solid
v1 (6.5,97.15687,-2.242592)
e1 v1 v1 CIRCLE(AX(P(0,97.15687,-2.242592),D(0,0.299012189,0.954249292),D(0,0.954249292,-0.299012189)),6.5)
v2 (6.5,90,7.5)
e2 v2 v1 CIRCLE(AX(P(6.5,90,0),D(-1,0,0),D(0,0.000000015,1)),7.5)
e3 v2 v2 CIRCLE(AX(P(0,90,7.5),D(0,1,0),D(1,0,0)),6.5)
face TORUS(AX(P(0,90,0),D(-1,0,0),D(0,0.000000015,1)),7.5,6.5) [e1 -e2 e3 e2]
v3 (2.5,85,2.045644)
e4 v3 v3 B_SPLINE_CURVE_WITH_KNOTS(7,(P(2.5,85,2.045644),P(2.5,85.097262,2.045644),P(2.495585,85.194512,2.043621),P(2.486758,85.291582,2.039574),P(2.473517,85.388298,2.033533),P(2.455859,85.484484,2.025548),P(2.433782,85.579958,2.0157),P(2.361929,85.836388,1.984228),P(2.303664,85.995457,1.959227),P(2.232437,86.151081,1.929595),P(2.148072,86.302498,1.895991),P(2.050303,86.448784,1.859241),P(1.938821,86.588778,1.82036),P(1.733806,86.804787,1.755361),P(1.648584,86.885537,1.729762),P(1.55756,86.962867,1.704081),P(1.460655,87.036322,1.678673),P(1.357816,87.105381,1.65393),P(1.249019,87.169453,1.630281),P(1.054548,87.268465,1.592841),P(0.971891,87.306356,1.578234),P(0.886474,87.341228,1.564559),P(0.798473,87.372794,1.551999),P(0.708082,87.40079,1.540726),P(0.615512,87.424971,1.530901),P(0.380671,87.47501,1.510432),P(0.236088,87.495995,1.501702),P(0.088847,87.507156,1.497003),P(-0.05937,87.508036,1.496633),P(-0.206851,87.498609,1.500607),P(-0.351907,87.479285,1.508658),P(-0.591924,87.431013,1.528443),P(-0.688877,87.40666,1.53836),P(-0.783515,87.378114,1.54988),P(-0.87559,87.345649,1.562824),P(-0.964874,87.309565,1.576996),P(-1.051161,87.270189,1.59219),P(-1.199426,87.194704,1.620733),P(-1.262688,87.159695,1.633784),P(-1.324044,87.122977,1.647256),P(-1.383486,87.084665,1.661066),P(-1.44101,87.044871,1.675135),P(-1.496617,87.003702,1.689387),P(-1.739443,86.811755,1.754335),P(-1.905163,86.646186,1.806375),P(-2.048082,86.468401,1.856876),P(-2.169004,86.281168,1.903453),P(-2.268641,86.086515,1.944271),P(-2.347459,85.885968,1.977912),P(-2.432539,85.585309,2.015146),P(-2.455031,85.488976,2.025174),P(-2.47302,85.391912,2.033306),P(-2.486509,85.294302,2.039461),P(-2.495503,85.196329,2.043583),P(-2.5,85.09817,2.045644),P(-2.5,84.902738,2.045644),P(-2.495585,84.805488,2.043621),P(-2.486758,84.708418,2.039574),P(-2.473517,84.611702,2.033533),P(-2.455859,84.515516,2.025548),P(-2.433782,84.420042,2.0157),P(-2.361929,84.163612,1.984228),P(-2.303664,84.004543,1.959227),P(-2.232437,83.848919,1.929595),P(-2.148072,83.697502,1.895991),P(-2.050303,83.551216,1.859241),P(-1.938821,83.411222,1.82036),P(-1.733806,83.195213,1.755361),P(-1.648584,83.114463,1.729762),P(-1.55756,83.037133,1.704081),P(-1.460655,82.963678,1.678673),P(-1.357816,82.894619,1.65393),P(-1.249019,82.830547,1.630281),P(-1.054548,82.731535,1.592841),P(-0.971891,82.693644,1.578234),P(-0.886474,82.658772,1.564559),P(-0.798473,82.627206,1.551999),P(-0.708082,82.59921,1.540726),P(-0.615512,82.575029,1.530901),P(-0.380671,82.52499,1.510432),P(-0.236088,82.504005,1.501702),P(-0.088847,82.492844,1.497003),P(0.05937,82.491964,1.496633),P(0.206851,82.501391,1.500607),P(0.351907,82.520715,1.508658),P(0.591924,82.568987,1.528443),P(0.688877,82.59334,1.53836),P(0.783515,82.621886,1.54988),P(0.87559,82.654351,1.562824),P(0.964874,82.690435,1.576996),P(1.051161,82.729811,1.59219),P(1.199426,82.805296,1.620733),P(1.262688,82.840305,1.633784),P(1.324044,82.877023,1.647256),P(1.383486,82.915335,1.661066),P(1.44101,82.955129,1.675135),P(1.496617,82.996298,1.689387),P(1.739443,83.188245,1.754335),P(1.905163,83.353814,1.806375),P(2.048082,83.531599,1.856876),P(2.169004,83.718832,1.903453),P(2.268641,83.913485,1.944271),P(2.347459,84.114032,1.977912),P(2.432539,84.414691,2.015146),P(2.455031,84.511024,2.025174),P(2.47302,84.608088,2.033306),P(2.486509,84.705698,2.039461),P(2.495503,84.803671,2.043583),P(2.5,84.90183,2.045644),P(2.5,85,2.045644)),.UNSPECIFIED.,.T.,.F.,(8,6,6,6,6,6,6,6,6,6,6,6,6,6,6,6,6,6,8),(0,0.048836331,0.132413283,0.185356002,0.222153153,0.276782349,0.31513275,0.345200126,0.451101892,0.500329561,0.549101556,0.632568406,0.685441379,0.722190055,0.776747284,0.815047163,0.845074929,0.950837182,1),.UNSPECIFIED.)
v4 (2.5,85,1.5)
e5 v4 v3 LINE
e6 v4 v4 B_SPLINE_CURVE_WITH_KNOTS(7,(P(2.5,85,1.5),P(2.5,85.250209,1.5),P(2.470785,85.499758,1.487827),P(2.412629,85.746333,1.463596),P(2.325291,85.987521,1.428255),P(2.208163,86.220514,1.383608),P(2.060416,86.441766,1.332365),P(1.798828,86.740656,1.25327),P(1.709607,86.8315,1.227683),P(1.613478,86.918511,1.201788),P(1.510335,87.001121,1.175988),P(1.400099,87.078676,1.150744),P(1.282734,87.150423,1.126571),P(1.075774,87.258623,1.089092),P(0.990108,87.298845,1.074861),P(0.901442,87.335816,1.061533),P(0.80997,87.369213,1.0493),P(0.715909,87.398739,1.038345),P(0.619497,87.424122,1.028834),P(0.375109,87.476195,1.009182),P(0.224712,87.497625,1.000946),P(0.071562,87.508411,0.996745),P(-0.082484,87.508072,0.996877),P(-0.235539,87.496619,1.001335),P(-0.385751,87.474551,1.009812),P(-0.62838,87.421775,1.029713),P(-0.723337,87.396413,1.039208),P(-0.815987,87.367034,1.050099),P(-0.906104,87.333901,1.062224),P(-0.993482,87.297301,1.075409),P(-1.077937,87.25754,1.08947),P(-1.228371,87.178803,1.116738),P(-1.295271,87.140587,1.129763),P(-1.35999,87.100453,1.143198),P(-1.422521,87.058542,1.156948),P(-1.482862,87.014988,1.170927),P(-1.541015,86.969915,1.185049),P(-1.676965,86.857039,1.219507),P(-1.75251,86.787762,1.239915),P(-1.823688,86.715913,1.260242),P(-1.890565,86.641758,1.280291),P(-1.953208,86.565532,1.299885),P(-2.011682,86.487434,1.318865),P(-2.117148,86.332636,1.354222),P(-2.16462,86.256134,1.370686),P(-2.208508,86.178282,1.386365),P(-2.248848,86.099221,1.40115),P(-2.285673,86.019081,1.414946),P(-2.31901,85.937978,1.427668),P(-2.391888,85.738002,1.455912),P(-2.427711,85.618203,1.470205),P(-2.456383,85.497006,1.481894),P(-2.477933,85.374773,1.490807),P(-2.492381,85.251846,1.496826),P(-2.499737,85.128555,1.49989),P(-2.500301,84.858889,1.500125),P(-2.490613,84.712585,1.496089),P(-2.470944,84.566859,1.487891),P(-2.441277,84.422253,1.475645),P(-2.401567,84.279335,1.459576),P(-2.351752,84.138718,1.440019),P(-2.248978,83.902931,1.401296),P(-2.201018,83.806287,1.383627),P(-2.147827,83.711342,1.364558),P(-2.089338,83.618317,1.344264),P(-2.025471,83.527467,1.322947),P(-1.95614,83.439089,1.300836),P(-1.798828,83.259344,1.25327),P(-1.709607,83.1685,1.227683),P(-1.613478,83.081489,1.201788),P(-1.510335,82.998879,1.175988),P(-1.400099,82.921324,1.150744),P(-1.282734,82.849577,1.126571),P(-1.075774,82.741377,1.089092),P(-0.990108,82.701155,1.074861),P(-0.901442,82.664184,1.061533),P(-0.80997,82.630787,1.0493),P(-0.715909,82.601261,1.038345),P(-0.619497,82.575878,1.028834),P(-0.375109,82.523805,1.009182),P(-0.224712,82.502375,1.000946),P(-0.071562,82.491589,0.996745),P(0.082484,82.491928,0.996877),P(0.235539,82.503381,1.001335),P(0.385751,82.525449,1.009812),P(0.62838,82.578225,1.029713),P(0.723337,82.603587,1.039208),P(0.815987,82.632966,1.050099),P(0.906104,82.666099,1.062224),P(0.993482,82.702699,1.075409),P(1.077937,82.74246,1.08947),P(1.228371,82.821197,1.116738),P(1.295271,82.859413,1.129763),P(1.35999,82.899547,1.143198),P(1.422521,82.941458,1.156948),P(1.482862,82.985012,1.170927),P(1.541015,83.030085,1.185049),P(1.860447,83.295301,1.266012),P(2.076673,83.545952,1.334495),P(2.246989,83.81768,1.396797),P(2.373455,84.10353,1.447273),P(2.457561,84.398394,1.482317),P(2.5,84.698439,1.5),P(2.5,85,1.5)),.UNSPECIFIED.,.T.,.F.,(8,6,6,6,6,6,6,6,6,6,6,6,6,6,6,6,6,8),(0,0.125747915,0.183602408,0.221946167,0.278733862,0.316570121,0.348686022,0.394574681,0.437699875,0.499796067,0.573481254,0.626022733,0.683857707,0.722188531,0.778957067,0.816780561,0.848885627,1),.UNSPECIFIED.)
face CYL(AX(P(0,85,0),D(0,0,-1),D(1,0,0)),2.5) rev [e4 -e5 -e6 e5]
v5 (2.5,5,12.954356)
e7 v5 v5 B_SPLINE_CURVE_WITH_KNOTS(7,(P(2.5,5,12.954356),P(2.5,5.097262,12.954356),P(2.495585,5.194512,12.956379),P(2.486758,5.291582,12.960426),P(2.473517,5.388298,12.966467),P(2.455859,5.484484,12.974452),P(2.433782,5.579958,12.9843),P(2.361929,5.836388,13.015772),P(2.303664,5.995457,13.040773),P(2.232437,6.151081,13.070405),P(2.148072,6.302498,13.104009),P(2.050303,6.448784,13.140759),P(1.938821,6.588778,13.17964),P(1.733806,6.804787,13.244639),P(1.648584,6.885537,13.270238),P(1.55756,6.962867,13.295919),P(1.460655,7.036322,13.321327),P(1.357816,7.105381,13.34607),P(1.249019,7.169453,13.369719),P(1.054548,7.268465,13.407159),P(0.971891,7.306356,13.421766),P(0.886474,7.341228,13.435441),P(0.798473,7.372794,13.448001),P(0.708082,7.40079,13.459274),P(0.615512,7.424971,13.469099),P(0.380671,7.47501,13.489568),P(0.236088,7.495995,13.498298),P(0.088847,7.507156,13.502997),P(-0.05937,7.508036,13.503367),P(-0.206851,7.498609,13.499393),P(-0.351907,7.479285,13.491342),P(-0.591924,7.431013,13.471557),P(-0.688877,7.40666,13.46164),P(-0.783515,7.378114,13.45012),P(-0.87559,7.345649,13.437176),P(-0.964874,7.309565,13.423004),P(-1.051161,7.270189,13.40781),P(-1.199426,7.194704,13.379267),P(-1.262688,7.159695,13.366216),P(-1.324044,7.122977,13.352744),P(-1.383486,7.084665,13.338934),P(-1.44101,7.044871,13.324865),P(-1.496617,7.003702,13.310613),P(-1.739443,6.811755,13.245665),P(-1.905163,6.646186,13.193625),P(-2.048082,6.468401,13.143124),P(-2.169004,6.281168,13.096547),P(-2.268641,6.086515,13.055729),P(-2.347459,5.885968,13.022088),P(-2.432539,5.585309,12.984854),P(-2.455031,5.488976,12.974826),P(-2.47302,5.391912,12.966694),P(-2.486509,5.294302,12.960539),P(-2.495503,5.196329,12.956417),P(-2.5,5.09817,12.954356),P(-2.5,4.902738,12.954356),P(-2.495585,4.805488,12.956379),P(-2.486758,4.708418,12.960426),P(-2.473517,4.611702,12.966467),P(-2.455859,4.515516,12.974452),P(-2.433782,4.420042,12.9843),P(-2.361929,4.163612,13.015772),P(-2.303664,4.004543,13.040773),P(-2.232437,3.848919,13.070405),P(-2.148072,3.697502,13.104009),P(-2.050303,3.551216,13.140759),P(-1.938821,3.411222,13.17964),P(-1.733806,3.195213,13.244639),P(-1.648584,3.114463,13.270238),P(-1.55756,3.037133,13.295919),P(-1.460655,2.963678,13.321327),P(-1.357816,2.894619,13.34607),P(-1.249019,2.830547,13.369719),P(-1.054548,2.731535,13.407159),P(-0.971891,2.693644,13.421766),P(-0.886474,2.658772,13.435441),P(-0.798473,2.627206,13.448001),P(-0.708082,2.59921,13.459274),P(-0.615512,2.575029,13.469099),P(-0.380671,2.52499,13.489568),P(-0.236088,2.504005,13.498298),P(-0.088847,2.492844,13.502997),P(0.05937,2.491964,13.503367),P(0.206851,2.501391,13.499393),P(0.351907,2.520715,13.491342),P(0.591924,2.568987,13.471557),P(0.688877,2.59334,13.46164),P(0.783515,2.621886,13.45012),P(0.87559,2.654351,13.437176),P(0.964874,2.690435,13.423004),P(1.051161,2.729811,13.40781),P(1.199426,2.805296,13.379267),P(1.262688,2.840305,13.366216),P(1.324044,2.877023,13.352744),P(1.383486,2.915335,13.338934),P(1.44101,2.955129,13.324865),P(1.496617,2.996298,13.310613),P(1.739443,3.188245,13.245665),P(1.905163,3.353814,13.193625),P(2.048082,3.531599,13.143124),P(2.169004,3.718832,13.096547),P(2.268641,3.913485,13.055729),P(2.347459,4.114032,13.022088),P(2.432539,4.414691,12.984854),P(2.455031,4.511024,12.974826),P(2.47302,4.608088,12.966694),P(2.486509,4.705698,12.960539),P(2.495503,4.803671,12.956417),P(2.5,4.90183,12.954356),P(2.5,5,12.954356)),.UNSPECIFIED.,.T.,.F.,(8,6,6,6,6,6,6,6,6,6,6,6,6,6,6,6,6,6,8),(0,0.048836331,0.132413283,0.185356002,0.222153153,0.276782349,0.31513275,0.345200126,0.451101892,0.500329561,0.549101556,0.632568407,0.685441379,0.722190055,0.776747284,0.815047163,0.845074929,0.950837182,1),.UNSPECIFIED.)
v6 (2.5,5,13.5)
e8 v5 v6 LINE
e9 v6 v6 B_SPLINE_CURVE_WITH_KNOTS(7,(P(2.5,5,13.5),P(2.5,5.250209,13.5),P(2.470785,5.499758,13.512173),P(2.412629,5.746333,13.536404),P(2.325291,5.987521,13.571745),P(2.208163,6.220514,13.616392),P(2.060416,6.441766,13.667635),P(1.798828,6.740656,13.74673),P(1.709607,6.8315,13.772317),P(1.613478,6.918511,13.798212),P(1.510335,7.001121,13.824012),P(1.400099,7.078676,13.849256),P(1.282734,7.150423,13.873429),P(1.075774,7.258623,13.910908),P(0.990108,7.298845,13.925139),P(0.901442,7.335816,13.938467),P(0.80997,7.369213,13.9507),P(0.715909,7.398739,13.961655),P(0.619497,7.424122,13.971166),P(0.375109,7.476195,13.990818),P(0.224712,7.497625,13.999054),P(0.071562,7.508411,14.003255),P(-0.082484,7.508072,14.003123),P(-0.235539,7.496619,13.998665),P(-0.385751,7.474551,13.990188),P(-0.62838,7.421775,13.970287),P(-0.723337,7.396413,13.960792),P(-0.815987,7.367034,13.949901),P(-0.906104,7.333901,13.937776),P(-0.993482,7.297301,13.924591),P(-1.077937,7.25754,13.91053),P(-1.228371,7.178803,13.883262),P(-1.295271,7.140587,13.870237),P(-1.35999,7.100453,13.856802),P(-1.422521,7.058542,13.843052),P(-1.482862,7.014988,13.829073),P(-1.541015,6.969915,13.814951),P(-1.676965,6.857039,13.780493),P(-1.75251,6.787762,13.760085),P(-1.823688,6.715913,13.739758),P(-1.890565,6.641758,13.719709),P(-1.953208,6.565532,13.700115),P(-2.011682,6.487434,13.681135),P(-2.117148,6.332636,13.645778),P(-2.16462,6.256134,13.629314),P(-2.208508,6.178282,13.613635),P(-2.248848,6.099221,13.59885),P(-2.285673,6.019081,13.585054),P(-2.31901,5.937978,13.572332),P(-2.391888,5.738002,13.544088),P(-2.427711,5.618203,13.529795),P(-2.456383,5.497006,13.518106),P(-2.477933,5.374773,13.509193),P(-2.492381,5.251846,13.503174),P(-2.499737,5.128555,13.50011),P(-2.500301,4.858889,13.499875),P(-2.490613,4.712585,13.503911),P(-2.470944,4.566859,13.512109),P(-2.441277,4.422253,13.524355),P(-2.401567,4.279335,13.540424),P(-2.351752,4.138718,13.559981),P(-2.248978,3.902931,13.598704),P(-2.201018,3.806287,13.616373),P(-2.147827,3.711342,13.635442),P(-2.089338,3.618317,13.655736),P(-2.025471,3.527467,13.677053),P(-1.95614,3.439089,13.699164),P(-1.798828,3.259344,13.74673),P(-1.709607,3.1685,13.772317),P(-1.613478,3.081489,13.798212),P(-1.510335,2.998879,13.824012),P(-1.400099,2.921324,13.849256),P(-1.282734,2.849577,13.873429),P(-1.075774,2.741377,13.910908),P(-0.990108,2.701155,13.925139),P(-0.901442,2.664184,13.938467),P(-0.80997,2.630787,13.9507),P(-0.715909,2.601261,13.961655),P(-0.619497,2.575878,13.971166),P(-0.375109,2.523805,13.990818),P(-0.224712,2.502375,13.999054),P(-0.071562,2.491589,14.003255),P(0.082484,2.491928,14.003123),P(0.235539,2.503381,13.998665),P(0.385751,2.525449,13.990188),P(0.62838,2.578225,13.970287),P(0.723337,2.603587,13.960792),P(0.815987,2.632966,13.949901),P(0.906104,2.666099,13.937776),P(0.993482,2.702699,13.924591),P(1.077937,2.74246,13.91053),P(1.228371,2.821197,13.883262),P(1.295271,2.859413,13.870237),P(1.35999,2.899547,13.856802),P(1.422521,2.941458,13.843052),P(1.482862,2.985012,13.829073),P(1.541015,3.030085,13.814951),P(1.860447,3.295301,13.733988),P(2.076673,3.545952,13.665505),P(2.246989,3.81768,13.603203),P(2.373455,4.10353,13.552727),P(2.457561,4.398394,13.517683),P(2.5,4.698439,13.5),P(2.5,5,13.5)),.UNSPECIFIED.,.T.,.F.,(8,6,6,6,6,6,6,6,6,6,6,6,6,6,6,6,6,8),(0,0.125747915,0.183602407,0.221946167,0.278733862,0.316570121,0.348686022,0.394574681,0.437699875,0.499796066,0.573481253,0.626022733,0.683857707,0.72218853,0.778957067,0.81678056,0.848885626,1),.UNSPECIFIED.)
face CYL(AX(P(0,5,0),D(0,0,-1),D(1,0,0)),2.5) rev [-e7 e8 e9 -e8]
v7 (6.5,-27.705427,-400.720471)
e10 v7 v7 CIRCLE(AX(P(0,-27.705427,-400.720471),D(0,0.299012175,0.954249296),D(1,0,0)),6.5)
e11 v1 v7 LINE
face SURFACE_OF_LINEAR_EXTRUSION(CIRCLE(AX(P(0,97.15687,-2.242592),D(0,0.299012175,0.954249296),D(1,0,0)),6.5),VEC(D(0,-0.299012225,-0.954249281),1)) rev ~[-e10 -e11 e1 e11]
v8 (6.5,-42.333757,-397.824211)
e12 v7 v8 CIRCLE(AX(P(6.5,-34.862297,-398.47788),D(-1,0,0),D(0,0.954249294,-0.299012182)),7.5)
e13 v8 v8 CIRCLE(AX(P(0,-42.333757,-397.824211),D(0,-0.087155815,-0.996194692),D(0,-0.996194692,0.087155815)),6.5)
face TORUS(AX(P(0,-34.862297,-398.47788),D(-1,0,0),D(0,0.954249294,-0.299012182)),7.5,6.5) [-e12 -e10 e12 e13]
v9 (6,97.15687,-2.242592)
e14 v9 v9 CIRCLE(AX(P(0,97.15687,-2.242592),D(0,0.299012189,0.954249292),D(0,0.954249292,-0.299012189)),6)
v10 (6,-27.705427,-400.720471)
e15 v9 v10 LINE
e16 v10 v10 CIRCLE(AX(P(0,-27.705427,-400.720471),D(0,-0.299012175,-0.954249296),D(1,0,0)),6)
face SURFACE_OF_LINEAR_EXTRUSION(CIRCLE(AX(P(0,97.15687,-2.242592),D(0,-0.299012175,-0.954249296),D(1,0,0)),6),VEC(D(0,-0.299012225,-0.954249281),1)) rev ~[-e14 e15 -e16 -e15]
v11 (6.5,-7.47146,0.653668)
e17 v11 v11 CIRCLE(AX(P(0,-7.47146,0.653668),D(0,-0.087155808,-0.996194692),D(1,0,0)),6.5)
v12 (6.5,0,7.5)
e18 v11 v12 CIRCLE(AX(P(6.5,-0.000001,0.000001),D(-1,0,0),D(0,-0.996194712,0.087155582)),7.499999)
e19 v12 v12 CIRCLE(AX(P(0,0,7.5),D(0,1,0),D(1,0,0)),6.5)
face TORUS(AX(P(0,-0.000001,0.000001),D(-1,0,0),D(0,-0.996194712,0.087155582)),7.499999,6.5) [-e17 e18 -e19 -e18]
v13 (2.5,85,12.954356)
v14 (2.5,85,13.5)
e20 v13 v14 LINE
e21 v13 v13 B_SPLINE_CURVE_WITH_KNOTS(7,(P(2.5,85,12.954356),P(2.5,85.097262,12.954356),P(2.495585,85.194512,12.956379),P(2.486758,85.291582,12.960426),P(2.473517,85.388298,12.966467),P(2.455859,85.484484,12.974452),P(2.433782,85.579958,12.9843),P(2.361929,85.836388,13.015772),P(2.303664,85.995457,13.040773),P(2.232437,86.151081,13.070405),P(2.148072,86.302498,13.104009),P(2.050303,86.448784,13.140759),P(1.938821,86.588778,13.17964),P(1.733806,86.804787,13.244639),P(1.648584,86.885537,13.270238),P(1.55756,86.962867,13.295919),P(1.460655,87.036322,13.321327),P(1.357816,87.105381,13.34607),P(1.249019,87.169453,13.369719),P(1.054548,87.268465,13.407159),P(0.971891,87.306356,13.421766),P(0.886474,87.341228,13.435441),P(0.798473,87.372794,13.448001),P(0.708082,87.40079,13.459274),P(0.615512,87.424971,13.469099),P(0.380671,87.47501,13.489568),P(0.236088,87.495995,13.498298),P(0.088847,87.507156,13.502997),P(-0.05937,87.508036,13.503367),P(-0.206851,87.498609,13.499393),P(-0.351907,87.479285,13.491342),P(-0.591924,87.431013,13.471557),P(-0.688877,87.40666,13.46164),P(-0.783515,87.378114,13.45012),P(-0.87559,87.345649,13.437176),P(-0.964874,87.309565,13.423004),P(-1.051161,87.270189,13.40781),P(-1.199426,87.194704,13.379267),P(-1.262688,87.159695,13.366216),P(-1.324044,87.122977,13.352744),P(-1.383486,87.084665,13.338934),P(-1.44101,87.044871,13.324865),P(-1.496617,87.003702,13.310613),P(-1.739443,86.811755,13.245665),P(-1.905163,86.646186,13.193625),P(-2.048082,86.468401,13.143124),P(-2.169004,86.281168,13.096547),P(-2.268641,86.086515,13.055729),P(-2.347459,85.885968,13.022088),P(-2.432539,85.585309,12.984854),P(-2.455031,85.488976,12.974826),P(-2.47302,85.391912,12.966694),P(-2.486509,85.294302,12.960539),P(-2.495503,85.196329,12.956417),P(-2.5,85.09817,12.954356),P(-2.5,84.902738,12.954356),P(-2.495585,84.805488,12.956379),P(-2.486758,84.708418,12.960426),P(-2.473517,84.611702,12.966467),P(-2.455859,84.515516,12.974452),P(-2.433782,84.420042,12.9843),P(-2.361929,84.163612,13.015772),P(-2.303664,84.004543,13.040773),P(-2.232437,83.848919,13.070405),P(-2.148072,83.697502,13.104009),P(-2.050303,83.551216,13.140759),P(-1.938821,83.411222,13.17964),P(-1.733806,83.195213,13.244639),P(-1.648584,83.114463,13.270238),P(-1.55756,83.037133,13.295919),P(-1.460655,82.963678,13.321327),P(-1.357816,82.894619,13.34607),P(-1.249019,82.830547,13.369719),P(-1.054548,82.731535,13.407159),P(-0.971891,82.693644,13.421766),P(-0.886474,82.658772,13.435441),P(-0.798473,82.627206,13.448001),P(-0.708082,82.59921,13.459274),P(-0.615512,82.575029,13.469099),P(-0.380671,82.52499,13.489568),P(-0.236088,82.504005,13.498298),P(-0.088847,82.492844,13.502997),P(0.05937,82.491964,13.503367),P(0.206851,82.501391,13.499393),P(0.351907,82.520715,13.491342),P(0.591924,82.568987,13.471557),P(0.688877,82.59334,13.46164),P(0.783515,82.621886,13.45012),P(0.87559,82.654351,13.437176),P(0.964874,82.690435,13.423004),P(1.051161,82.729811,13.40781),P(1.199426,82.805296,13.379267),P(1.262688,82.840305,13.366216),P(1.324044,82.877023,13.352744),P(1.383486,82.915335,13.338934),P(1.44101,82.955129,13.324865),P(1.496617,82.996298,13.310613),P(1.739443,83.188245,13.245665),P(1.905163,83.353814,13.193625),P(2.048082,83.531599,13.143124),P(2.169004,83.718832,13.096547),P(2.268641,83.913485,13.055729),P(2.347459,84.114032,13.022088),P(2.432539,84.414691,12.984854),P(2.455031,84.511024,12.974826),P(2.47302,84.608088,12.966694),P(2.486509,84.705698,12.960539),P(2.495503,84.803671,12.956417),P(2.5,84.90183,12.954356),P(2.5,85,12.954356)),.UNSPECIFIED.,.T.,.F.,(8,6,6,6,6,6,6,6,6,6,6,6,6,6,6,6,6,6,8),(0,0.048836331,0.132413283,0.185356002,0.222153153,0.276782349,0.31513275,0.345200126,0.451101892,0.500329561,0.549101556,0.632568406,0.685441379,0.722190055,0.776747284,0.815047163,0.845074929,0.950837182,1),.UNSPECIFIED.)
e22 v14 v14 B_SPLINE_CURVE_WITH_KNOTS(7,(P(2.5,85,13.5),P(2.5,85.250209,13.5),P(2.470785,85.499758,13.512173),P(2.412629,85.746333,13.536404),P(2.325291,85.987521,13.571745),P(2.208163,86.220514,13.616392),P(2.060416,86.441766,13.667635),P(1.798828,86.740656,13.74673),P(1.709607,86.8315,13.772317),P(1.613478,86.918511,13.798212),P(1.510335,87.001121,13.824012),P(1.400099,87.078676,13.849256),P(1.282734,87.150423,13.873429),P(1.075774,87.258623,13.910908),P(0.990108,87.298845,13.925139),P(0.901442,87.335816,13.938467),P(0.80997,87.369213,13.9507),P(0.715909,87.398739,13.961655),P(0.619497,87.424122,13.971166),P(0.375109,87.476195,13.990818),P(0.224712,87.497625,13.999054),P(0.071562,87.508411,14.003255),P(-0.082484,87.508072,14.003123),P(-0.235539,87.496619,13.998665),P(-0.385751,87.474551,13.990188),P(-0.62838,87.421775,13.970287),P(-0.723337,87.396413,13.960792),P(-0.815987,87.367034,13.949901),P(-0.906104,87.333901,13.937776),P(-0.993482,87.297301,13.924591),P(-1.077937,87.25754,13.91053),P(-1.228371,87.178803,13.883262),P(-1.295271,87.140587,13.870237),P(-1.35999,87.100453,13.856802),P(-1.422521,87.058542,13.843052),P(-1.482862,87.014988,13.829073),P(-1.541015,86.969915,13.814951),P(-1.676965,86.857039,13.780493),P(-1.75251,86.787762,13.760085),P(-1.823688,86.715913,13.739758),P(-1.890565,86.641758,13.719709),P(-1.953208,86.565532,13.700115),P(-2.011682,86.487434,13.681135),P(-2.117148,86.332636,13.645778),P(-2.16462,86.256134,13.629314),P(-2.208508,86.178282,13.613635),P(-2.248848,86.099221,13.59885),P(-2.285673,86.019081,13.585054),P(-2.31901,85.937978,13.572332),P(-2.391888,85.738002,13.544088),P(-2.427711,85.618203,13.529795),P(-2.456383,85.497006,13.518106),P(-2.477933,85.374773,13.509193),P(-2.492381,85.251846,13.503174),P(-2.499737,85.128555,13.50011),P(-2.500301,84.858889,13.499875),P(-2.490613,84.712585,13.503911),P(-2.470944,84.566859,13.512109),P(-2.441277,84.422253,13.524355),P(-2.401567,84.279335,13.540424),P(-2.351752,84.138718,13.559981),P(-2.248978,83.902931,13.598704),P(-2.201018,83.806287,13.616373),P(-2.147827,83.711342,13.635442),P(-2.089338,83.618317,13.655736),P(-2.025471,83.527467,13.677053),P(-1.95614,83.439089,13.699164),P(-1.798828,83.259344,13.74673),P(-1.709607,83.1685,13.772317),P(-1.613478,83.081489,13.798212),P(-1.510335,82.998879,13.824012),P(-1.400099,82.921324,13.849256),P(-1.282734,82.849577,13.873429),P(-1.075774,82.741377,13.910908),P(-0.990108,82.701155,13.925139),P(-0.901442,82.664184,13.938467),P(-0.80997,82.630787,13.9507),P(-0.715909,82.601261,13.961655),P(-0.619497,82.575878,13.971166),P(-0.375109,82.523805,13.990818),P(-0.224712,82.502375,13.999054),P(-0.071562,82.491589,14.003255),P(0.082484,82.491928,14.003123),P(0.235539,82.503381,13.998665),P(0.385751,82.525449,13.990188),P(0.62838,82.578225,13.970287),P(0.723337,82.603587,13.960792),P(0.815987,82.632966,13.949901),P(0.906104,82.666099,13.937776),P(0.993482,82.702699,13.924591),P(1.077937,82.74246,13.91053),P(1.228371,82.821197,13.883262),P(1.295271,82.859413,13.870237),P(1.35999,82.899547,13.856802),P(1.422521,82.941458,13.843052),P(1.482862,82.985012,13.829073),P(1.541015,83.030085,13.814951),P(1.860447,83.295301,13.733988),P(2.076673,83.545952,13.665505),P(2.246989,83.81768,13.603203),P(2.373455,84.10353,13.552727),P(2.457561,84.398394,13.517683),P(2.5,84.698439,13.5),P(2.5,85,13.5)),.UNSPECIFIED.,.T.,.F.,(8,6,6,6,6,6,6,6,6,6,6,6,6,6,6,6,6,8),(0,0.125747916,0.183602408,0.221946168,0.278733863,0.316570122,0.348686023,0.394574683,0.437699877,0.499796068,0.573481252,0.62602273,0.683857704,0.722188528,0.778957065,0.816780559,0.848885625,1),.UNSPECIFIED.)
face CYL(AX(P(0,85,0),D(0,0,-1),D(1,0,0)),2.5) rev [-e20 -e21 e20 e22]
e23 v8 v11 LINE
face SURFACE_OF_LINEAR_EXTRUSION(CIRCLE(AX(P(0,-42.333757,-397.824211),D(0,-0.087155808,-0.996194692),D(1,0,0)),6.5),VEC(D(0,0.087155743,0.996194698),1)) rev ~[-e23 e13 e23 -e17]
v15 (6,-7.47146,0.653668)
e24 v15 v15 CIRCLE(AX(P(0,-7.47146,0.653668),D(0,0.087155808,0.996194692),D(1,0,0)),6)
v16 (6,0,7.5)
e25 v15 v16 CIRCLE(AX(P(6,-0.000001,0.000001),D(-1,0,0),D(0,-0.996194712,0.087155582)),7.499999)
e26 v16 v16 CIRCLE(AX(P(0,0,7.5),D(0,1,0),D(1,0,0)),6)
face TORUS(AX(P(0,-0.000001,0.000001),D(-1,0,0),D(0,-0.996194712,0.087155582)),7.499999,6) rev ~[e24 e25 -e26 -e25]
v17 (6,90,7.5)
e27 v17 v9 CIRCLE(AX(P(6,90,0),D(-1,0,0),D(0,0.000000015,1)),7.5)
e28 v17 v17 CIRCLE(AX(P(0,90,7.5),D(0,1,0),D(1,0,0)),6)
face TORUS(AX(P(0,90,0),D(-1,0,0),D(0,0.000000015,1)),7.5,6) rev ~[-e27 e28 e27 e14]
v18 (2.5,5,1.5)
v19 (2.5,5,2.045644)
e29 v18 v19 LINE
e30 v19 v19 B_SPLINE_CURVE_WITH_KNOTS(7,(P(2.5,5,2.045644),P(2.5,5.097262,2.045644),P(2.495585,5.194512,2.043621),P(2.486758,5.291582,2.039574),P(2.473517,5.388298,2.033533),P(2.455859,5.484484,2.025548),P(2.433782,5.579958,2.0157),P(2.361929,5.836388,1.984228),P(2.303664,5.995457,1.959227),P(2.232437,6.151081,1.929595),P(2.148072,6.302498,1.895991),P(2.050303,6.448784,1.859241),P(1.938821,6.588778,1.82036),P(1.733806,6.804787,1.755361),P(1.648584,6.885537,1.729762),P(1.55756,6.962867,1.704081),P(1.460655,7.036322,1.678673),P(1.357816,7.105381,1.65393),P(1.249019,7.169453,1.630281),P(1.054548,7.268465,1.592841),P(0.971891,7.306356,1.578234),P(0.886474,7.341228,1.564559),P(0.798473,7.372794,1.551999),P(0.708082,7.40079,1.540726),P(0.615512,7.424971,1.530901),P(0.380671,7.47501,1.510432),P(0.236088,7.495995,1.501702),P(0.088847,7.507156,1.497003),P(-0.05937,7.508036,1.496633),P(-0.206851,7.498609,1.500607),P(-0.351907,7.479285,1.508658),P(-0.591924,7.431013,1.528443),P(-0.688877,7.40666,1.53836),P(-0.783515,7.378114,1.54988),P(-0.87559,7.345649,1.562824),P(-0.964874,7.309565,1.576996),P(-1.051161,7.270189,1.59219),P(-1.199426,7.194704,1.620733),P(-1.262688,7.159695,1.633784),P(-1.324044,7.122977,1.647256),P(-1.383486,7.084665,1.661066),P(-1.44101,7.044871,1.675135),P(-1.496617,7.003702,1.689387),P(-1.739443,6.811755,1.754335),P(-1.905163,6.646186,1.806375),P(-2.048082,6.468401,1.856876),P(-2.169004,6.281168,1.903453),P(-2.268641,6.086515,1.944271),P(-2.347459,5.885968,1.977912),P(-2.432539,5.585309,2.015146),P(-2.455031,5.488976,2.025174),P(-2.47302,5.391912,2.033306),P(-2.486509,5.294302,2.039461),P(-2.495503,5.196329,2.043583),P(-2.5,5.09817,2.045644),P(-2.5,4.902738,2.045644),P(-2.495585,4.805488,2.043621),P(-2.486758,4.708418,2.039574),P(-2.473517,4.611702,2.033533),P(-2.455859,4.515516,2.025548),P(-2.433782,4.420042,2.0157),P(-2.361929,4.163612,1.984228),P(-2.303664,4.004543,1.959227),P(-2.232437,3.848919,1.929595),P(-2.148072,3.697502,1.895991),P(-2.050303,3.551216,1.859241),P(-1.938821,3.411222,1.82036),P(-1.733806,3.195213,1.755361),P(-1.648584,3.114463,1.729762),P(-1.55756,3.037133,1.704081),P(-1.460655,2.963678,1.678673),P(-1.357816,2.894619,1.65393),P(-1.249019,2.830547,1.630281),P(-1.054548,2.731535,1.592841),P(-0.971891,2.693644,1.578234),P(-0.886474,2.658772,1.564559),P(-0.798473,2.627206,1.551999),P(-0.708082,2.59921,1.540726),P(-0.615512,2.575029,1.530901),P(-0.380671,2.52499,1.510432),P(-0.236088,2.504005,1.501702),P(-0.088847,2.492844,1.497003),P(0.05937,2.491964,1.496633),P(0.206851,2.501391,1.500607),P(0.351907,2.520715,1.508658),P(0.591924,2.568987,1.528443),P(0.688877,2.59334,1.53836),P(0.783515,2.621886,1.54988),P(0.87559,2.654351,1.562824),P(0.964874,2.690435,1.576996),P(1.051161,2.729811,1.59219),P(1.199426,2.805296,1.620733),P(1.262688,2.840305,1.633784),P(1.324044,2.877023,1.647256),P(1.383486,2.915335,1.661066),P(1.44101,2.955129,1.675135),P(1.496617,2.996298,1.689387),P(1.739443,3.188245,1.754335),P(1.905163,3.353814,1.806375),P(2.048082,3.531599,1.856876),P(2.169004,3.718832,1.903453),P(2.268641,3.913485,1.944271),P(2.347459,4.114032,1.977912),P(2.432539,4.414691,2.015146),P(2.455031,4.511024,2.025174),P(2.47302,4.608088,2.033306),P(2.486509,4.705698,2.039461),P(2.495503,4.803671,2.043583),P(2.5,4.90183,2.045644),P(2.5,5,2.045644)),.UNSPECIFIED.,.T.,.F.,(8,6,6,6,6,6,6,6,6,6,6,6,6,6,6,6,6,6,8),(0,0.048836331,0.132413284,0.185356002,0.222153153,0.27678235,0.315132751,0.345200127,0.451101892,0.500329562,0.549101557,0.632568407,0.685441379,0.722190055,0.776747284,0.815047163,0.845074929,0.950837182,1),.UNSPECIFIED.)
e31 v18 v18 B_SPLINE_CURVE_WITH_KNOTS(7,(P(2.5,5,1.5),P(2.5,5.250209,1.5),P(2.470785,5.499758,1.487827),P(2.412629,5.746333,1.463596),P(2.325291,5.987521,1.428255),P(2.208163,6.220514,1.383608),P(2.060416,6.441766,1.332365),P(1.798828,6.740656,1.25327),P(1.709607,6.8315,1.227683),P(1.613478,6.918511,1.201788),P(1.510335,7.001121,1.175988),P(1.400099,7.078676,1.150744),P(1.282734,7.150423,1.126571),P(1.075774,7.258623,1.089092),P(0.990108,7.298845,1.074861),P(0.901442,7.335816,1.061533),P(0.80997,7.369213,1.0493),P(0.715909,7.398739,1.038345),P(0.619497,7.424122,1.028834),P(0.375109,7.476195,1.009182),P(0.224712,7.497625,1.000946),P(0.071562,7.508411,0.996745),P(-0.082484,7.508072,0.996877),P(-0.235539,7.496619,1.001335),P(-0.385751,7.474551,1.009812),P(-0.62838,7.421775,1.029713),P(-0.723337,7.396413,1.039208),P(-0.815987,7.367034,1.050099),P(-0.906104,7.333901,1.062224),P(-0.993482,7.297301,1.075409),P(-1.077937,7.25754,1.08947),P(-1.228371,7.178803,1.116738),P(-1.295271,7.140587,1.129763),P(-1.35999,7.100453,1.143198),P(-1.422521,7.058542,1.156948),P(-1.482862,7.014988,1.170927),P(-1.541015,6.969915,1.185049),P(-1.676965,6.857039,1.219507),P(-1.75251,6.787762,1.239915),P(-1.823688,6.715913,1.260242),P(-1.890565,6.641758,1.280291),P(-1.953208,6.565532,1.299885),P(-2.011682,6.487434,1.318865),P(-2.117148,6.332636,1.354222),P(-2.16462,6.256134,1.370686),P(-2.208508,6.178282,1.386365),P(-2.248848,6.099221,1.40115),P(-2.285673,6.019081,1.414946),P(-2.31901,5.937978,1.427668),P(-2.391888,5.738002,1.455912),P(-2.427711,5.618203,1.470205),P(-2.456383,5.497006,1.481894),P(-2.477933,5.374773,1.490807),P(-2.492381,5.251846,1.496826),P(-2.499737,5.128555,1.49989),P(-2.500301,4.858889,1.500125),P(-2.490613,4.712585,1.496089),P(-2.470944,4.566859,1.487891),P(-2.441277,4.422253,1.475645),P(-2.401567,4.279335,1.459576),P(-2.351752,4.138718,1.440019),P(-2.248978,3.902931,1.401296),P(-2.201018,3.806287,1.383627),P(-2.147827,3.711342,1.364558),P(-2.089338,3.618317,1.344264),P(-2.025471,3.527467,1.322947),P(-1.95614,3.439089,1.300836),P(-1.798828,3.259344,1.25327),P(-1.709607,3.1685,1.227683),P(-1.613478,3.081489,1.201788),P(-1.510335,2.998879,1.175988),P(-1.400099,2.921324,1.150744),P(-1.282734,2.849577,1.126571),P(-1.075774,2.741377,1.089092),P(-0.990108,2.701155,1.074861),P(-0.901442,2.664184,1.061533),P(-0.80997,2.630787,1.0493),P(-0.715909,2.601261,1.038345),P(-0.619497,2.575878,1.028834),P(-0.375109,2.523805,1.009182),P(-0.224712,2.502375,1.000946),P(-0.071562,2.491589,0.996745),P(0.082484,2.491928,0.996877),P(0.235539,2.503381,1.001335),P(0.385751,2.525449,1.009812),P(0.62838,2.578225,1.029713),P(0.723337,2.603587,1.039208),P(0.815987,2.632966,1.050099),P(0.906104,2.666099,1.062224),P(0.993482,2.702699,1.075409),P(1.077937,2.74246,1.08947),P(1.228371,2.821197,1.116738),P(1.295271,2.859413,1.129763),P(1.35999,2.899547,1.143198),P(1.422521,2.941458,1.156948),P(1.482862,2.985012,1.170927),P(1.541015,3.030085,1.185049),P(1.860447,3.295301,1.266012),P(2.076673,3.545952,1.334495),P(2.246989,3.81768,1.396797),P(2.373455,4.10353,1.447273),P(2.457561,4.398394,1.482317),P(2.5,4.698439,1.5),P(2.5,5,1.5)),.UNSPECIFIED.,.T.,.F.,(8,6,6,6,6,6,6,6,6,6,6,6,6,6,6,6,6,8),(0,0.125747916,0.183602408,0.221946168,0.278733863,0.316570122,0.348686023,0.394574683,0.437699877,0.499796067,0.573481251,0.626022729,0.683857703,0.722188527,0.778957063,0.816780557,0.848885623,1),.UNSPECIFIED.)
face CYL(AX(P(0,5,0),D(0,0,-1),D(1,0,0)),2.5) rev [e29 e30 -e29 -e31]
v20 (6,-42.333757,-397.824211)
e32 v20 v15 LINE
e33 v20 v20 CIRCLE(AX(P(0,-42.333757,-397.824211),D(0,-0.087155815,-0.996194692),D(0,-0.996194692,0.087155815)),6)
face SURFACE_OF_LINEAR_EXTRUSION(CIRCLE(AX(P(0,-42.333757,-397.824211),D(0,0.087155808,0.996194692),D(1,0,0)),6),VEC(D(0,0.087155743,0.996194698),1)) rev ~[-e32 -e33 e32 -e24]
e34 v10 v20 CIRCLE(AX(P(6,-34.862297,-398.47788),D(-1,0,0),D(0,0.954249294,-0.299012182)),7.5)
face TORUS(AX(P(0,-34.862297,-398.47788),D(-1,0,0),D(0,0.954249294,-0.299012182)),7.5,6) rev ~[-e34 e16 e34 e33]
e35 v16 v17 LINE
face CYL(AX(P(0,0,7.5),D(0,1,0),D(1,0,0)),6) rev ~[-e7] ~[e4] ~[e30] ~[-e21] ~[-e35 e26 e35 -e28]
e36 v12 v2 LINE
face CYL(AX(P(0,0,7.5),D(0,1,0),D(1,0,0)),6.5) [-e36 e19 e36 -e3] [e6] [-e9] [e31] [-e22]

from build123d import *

# Parameters (mm, degrees)
F1_R     = 6.5
F1_R_2   = 6
F3_R     = 2.5
F4_DEPTH = 14.001


with BuildPart() as f2:
    # F2: sweep along a path in F0
    with BuildLine(Plane.YZ) as f2_path:
        Line((0, 7.5), (90, 7.5))
        ThreePointArc((90, 7.5), (96.044396, 4.440189), (97.15687, -2.242592))
        Line((97.15687, -2.242592), (-27.705427, -400.720471))
        ThreePointArc((-27.705427, -400.720471), (-36.318945, -405.835065), (-42.333757, -397.824211))
        Line((-42.333757, -397.824211), (-7.47146, 0.653668))
        ThreePointArc((-7.47146, 0.653668), (-5.066927, 5.52958), (0, 7.5))
    # F1 (on Front) → F2 (sweep)
    with BuildSketch(Plane.XZ):
        with Locations((0, 7.5)):
            Circle(F1_R)
        with Locations((0, 7.5)):
            Circle(F1_R_2, mode=Mode.SUBTRACT)
    sweep(path=f2_path.line)

    # F3 (on Top) → F4 (cut, through all)
    with BuildSketch(Plane.XY):
        with Locations((0, 5)):
            Circle(F3_R)
        with Locations((0, 85)):
            Circle(F3_R)
    extrude(amount=F4_DEPTH, mode=Mode.SUBTRACT)


solid = f2.part
